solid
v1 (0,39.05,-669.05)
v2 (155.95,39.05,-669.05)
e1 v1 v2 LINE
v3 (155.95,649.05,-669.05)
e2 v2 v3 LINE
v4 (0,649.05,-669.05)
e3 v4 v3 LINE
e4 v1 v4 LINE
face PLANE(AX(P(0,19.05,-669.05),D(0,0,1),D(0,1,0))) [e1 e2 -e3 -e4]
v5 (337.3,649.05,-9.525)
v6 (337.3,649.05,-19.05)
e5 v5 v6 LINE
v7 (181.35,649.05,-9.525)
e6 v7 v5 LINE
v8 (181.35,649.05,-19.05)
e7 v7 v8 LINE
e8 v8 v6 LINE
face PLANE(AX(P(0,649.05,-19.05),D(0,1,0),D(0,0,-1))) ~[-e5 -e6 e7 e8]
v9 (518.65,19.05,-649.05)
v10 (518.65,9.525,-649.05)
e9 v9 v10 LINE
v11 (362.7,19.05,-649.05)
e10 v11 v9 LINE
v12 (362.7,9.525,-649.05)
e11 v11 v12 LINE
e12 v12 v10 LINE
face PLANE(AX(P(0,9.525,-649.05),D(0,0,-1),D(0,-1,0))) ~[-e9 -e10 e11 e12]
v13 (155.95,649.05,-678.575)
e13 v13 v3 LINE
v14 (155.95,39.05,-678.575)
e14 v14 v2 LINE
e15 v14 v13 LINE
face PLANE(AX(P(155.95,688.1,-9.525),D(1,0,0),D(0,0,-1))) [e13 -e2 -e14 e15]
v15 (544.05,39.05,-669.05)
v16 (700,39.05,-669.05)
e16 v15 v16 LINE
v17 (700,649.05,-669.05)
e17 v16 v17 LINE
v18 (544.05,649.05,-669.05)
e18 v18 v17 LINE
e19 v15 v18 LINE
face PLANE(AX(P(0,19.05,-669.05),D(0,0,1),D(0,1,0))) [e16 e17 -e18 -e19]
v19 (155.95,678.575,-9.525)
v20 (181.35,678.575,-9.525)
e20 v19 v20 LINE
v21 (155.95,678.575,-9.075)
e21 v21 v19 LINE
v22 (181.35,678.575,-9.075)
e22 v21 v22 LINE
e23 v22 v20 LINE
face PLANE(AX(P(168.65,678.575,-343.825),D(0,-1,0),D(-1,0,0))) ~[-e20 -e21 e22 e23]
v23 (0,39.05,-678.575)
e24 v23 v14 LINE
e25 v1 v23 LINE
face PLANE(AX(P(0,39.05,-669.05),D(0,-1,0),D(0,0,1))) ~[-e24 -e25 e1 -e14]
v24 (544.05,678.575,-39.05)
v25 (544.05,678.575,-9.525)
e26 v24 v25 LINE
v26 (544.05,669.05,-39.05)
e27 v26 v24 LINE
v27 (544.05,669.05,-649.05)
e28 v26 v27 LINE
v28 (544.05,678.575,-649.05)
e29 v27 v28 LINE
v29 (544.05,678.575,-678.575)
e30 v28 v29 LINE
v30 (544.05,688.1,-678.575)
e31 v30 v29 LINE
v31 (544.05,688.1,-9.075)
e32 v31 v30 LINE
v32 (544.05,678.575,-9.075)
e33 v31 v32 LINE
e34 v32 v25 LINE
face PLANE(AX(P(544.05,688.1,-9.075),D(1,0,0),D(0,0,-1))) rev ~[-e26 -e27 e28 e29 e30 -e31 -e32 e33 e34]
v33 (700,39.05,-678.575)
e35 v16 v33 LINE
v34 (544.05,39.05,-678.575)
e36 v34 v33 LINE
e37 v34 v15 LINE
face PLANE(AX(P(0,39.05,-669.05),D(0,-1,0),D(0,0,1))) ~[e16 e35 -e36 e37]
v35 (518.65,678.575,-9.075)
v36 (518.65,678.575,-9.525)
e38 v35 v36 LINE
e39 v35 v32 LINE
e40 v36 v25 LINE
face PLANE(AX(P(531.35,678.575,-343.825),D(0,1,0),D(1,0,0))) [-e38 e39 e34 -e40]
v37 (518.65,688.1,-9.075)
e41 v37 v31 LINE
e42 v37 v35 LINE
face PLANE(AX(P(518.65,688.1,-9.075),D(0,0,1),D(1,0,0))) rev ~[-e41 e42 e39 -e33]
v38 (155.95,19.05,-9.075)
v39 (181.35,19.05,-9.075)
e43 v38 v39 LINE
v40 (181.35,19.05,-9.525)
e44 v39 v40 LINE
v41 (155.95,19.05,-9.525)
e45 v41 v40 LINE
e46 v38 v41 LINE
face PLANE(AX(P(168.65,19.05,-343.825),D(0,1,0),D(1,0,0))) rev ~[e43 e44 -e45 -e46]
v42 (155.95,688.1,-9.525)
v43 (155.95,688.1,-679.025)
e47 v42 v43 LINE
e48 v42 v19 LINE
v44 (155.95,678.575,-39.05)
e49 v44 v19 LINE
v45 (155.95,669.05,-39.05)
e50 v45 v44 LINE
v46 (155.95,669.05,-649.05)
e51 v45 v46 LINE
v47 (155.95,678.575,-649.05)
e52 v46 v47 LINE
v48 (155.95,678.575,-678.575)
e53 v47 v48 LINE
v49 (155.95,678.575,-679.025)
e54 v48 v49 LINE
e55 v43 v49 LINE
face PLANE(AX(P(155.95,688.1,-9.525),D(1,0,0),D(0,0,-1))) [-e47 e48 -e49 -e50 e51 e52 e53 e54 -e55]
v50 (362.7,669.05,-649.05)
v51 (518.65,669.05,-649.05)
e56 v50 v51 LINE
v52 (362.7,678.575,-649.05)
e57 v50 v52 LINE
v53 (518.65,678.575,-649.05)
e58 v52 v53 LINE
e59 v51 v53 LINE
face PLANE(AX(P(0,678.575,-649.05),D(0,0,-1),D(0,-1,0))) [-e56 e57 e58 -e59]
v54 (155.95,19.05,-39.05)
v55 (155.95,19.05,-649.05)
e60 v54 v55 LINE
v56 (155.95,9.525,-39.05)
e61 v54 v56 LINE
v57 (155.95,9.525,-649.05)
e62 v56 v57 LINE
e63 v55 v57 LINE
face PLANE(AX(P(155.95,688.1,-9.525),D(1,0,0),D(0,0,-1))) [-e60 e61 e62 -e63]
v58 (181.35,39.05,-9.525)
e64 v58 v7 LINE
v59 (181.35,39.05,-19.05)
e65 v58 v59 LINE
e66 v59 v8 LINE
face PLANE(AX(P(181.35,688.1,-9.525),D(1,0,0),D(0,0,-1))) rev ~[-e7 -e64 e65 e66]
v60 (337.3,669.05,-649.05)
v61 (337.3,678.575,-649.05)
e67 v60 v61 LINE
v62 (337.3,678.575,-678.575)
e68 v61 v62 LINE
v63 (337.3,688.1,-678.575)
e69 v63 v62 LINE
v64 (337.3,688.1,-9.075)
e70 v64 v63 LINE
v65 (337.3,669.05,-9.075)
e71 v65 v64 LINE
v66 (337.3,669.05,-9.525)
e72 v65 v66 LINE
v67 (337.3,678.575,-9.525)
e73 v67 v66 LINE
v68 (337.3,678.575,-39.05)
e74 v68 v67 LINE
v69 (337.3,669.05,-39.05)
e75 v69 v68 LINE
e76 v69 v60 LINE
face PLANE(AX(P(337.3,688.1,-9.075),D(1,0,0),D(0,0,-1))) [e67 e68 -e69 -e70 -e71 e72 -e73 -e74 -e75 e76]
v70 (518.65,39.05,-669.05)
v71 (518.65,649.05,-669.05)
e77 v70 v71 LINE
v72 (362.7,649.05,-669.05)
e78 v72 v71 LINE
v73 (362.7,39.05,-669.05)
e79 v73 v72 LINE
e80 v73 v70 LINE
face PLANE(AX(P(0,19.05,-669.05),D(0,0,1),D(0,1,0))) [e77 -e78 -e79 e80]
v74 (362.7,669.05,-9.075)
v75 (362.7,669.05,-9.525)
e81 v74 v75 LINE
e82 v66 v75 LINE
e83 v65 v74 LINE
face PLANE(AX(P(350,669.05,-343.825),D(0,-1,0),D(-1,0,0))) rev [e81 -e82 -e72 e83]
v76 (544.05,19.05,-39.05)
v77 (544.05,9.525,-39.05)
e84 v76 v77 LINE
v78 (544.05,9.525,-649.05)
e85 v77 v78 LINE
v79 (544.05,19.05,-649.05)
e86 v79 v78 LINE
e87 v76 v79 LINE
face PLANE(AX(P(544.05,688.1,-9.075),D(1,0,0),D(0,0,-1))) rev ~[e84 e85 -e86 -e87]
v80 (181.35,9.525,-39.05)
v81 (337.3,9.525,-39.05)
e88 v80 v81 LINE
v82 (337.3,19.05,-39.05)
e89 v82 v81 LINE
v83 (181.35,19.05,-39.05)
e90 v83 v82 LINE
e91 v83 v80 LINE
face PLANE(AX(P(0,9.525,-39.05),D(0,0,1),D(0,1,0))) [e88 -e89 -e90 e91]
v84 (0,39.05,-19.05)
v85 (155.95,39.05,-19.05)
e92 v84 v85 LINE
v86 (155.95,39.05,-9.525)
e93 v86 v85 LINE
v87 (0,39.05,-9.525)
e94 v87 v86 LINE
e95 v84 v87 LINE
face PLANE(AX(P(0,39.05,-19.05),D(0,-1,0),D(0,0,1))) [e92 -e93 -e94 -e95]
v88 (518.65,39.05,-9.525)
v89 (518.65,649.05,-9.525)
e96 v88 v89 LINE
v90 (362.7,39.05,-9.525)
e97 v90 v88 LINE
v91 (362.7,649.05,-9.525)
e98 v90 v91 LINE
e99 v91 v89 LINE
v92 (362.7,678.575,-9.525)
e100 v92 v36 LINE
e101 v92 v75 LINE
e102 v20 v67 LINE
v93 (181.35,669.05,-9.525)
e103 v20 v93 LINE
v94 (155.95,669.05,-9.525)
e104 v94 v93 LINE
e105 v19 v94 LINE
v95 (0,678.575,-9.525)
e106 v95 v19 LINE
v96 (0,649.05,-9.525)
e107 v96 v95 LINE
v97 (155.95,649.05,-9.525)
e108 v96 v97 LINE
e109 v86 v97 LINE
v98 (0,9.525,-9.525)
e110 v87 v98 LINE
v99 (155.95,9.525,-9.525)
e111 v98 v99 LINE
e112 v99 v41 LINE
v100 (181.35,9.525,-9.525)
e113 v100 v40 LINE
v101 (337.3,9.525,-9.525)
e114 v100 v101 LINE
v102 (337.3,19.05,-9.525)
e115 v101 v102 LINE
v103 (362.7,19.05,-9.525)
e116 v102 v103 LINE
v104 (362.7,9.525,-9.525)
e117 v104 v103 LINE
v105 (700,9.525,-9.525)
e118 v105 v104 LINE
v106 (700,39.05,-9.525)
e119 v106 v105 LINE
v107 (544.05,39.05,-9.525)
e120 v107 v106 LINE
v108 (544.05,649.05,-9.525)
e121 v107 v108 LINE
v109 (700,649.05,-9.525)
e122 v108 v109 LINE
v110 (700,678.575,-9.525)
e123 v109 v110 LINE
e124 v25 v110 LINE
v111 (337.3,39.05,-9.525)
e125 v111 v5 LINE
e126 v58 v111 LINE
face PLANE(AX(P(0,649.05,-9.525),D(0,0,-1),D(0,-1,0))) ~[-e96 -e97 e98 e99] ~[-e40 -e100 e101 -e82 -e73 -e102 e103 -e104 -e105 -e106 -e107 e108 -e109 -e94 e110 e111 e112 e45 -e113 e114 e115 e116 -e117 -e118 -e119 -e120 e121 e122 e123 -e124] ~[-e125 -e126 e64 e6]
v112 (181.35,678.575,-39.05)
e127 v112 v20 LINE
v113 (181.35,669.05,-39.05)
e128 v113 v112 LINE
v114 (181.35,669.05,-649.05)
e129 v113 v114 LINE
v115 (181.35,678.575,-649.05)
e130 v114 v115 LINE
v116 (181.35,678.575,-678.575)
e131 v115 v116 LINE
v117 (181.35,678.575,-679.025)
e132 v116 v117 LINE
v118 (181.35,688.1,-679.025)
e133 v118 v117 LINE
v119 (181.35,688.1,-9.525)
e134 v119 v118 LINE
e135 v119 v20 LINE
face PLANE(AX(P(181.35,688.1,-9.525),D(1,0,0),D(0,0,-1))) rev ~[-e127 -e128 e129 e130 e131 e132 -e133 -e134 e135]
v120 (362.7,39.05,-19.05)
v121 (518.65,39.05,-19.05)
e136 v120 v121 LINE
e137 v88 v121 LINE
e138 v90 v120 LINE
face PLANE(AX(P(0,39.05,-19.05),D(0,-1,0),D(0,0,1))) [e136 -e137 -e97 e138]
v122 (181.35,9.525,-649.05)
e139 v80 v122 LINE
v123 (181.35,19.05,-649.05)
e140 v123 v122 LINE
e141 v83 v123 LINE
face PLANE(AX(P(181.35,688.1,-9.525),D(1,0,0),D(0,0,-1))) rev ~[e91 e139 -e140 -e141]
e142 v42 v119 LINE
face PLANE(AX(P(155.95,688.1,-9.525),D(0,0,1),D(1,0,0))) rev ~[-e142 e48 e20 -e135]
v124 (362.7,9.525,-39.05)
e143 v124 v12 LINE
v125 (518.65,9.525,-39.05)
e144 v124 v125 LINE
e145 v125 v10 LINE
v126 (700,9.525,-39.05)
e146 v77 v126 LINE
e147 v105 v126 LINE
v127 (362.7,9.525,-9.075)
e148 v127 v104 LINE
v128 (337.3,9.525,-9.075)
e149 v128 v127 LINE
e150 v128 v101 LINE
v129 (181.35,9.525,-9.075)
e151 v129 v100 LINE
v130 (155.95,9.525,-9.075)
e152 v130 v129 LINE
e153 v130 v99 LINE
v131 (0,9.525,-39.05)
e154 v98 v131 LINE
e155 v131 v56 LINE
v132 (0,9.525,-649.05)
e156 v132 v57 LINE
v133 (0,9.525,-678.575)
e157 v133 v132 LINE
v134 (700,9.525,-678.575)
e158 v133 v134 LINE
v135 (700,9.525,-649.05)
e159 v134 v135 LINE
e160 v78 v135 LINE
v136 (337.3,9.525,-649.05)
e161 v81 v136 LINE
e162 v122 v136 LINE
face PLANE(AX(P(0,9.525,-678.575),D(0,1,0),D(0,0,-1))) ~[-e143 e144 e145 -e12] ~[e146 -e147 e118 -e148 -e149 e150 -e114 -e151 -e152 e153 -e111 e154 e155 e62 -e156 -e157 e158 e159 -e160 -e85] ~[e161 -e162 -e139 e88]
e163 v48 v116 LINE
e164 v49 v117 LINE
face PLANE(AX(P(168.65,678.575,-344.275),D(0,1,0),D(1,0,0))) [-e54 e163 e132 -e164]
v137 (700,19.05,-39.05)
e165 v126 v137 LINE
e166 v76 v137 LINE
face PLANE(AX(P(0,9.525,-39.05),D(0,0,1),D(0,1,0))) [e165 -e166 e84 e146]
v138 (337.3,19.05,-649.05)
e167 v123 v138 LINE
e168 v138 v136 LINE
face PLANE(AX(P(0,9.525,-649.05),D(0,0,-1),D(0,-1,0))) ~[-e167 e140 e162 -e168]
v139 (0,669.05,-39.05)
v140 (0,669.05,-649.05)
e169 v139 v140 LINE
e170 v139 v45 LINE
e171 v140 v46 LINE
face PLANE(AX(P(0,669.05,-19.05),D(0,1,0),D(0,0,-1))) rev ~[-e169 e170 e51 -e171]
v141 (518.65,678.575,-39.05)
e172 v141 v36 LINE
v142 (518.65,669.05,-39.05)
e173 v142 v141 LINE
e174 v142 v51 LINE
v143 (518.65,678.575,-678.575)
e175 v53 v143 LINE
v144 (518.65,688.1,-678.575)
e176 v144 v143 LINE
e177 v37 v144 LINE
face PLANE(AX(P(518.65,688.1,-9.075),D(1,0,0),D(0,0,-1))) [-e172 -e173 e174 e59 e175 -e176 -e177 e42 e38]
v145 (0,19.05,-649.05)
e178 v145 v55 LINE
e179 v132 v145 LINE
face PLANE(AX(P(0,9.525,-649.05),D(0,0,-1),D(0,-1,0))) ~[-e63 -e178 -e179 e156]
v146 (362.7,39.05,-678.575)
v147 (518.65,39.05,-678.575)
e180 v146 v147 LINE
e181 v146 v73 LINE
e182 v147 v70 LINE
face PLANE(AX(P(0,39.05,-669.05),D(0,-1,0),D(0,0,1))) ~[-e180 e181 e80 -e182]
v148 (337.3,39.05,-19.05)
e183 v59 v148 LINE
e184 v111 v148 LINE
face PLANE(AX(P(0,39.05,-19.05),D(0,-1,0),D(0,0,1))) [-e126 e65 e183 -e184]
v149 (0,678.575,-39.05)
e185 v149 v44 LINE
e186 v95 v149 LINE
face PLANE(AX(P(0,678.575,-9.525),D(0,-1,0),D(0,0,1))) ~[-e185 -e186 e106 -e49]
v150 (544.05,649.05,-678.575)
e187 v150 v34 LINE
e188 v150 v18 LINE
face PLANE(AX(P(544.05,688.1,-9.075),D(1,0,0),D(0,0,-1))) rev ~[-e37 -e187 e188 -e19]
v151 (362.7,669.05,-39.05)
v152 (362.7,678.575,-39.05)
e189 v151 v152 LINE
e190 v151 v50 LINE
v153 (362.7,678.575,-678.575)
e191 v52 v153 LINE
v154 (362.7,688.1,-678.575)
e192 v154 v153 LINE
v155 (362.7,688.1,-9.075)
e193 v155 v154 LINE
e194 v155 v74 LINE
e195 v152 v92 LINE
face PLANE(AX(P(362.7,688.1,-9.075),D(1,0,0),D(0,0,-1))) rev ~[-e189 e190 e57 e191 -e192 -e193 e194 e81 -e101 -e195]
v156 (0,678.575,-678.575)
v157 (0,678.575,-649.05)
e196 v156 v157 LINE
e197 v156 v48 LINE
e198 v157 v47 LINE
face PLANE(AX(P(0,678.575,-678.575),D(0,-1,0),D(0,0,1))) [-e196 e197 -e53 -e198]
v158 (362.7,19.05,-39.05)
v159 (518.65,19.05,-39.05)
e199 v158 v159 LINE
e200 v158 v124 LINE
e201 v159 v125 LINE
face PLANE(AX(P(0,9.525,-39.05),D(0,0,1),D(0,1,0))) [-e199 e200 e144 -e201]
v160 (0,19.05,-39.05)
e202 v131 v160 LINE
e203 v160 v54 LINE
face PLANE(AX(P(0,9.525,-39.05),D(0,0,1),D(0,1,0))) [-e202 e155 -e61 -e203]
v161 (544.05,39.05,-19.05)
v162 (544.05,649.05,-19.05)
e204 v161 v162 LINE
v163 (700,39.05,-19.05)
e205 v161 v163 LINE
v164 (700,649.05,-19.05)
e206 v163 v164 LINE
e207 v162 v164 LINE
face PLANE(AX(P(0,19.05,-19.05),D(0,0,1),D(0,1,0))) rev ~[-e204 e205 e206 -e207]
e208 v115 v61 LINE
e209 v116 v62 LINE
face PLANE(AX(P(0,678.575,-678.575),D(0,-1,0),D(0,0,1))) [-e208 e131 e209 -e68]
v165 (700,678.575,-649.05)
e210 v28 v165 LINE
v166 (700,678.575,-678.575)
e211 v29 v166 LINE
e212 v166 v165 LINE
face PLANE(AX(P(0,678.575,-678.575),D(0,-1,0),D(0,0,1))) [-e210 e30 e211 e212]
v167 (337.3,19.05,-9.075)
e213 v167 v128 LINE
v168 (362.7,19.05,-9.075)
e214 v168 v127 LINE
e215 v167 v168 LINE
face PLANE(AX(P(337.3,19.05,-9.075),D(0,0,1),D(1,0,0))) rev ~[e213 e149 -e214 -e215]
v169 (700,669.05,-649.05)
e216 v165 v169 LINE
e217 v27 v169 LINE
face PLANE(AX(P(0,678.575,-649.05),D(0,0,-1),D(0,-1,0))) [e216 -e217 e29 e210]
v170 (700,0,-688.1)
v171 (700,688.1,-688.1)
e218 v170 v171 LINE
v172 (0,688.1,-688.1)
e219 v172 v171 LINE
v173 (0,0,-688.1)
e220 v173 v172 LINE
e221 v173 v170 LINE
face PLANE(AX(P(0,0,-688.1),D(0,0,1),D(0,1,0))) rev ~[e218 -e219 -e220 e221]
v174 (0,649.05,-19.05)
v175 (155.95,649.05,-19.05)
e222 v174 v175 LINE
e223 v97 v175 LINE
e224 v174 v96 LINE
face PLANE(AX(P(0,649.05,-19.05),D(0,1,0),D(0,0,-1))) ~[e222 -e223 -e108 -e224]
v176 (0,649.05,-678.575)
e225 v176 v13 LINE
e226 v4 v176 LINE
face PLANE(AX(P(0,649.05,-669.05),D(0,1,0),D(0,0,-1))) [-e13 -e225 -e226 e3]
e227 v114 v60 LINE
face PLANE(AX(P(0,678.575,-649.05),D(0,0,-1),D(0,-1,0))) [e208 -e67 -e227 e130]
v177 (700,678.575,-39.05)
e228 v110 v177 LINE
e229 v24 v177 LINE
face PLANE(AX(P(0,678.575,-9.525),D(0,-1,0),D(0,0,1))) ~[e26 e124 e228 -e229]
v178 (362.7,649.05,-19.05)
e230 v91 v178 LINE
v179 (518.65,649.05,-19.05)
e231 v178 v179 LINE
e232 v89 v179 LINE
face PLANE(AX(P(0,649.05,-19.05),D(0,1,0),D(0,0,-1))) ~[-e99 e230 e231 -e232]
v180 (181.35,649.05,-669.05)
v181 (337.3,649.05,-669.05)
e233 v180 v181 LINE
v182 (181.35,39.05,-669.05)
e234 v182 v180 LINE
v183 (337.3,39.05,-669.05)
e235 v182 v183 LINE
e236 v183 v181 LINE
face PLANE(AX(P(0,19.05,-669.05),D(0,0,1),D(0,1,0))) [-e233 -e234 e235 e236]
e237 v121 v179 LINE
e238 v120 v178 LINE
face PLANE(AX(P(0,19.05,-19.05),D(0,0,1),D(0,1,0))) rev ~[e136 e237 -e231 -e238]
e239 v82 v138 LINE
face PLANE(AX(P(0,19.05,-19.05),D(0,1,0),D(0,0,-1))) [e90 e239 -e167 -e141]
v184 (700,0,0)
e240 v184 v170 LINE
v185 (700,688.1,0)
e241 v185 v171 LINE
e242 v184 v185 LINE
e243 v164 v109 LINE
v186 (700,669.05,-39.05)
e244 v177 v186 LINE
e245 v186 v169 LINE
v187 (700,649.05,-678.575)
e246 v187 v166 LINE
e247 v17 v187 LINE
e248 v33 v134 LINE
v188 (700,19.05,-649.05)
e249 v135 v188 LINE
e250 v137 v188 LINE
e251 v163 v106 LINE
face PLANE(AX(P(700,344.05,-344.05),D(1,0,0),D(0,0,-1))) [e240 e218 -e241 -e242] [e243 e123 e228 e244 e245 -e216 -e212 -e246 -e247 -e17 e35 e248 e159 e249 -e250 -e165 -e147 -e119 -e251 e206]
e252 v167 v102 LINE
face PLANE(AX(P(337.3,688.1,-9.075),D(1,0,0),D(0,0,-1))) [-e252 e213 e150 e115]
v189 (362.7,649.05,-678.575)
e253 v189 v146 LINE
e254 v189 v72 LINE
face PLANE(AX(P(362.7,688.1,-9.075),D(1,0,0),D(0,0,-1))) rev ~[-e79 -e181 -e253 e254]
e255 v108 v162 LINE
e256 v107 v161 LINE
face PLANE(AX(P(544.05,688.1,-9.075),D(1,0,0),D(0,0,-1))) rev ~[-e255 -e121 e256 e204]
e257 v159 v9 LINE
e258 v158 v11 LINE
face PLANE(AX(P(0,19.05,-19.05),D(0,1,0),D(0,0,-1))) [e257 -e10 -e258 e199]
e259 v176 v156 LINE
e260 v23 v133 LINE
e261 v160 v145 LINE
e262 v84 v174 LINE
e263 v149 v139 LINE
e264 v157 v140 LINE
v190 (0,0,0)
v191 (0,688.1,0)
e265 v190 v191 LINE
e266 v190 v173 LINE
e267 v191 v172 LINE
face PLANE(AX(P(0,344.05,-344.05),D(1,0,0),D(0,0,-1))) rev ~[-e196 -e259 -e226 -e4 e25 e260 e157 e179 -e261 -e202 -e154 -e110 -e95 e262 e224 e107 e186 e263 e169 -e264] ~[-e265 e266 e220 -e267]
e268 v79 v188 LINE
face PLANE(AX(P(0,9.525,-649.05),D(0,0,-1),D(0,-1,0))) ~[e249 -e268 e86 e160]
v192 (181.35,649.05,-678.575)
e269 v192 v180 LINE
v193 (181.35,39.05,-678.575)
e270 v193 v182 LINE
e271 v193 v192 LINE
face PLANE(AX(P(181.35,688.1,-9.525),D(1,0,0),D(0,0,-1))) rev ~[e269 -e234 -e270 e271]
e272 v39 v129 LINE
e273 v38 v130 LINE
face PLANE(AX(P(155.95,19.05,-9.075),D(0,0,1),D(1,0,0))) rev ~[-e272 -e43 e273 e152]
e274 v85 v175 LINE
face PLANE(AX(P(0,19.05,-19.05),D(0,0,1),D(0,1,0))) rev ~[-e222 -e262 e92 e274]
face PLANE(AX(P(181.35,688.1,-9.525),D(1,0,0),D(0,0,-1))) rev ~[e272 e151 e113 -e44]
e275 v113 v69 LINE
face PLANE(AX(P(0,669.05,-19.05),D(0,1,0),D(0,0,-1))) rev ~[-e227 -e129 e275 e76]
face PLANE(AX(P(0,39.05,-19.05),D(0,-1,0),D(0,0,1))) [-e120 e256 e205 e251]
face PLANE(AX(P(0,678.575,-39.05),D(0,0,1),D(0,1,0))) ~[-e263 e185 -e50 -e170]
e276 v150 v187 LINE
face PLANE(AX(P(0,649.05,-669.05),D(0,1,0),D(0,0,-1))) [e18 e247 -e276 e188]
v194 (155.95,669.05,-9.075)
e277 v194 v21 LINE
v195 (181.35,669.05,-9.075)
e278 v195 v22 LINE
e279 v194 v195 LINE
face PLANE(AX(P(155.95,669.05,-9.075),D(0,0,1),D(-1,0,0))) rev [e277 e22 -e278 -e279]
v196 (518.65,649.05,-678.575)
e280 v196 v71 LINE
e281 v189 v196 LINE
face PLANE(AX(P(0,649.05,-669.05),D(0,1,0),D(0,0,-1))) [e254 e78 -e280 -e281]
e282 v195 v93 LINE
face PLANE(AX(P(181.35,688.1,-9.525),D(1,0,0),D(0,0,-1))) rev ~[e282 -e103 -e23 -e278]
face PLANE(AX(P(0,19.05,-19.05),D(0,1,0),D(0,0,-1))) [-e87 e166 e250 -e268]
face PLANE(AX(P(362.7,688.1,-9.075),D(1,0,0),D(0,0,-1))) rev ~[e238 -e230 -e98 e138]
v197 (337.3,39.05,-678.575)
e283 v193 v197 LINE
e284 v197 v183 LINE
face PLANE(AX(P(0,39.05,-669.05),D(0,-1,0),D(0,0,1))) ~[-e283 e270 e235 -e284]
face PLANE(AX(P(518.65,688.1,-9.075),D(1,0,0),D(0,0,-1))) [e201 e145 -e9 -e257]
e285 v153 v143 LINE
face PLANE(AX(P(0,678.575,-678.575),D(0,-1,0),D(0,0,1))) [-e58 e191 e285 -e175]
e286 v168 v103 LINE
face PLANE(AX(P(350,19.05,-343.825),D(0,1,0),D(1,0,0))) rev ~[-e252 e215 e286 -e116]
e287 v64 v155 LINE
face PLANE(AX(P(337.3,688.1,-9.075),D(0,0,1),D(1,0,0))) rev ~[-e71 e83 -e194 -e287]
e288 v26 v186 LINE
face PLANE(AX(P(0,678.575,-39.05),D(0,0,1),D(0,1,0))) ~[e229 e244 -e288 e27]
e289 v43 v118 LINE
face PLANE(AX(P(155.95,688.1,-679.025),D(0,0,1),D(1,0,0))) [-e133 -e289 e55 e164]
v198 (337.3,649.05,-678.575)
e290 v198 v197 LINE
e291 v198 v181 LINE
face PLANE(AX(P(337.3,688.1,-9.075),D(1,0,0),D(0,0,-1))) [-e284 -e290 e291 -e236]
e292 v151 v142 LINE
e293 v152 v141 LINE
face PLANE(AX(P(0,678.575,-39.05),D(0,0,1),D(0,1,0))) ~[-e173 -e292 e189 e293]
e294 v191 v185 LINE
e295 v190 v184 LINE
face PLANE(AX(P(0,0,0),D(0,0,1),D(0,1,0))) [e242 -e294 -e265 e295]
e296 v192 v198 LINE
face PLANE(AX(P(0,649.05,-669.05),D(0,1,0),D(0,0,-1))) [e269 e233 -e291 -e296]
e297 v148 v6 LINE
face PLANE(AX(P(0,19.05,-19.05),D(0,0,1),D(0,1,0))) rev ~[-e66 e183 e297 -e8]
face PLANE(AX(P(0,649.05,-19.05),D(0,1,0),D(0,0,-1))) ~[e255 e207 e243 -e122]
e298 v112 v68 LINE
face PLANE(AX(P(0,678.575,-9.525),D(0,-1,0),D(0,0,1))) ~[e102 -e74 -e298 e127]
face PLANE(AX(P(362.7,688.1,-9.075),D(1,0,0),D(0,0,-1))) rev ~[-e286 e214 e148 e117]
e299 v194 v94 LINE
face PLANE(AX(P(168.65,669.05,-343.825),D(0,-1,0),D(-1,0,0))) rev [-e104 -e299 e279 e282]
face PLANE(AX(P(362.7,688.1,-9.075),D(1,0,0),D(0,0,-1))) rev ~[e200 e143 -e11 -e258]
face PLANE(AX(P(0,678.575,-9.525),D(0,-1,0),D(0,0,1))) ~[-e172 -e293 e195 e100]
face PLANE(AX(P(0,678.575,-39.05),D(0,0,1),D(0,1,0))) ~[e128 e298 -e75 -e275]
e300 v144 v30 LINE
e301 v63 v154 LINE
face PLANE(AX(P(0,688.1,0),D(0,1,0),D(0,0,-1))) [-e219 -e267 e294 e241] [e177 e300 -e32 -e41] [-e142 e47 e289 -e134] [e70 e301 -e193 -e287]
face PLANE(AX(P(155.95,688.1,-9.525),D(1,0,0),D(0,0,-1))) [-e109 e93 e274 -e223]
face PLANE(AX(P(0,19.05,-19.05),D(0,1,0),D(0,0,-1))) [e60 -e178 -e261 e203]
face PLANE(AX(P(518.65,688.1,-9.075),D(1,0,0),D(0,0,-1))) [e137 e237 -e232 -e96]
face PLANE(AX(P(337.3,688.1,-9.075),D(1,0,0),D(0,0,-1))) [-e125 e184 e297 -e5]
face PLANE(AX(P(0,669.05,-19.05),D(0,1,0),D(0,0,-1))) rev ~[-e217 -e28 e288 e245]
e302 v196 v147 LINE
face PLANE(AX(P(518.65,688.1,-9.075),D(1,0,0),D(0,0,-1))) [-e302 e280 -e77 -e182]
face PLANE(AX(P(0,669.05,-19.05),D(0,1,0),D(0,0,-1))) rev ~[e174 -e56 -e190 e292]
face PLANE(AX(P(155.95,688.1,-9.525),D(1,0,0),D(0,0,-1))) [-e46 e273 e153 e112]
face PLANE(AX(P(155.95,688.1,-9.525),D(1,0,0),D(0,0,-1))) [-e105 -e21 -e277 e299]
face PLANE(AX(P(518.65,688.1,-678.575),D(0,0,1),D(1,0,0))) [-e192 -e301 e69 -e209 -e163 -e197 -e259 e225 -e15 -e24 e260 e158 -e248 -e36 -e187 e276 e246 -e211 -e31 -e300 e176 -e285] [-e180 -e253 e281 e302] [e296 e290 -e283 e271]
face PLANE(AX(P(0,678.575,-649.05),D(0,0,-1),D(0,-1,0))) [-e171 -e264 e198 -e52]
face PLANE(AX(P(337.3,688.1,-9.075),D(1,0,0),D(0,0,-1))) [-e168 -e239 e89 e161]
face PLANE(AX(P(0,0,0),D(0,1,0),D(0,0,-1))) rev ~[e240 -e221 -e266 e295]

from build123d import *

# Parameters (mm, degrees)
SKETCH1_W            = 688.1
SKETCH1_H            = 688.1
SKETCH1_W_2          = 650
SKETCH1_H_2          = 650
BOSS_EXTRUDE1_DEPTH  = 700
SKETCH3_W            = 25.4
SKETCH3_H            = 650
CUT_EXTRUDE1_DEPTH   = 9.525
SKETCH4_W            = 25.4
SKETCH4_H            = 669.5
SKETCH4_H_2          = 669.05
CUT_EXTRUDE3_DEPTH   = 9.525
SKETCH6_W            = 25.4
SKETCH6_H            = 669.5
CUT_EXTRUDE4_DEPTH   = 9.525
CUT_EXTRUDE5_DEPTH   = 700
MIRROR6_COPY_1_DEPTH = 700


with BuildPart() as part:
    # Sketch1 → Boss-Extrude1 (new body)
    with BuildSketch(Plane(origin=(0, 0, 0), x_dir=(0, 0, -1), z_dir=(1, 0, 0))):
        with Locations((344.05, 344.05)):
            Rectangle(SKETCH1_W, SKETCH1_H)
        with Locations((344.05, 344.05)):
            Rectangle(SKETCH1_W_2, SKETCH1_H_2, mode=Mode.SUBTRACT)
    extrude(amount=BOSS_EXTRUDE1_DEPTH)

    # Sketch3 → Cut-Extrude1 (cut)
    with BuildSketch(Plane.XY.offset(-669.05)):
        with Locations((168.65, 344.05)):
            Rectangle(SKETCH3_W, SKETCH3_H)
        with Locations((350, 344.05)):
            Rectangle(SKETCH3_W, SKETCH3_H)
        with Locations((531.35, 344.05)):
            Rectangle(SKETCH3_W, SKETCH3_H)
    cut_extrude1 = extrude(amount=-CUT_EXTRUDE1_DEPTH, mode=Mode.SUBTRACT)

    # Mirror2: Cut-Extrude1 across plane
    add(cut_extrude1.mirror(Plane(origin=(0, 0, -344.05), x_dir=(1, 0, 0), z_dir=(0, 0, -1))), mode=Mode.SUBTRACT)

    # Sketch4 → Cut-Extrude3 (cut)
    with BuildSketch(Plane(origin=(0, 19.05, 0), x_dir=(1, 0, 0), z_dir=(0, 1, 0))):
        with Locations((168.65, 343.825)):
            Rectangle(SKETCH4_W, SKETCH4_H)
        with Locations((350, 343.825)):
            Rectangle(SKETCH4_W, SKETCH4_H)
        with Locations((531.35, 344.05)):
            Rectangle(SKETCH4_W, SKETCH4_H_2)
    cut_extrude3 = extrude(amount=-CUT_EXTRUDE3_DEPTH, mode=Mode.SUBTRACT)

    # Mirror4: Cut-Extrude3 across plane
    add(cut_extrude3.mirror(Plane.ZX.offset(344.05)), mode=Mode.SUBTRACT)

    # Sketch6 → Cut-Extrude4 (cut)
    with BuildSketch(Plane(origin=(0, 688.1, 0), x_dir=(1, 0, 0), z_dir=(0, 1, 0))):
        with Locations((168.65, 344.275)):
            Rectangle(SKETCH6_W, SKETCH6_H)
        with Locations((350, 343.825)):
            Rectangle(SKETCH6_W, SKETCH6_H)
        with Locations((531.35, 343.825)):
            Rectangle(SKETCH6_W, SKETCH6_H)
    extrude(amount=-CUT_EXTRUDE4_DEPTH, mode=Mode.SUBTRACT)

    # Sketch7 → Cut-Extrude5 (cut)
    with BuildSketch(Plane.ZY):
        Polygon((-19.05, 39.05), (-9.525, 39.05), (-9.525, 9.525), (-39.05, 9.525), (-39.05, 19.05), (-19.05, 19.05), align=None)
    cut_extrude5 = extrude(amount=-CUT_EXTRUDE5_DEPTH, mode=Mode.SUBTRACT)

    # Mirror5: Cut-Extrude5 across plane
    add(cut_extrude5.mirror(Plane(origin=(0, 0, -344.05), x_dir=(1, 0, 0), z_dir=(0, 0, -1))), mode=Mode.SUBTRACT)

    # Mirror6: Cut-Extrude5 across plane
    add(cut_extrude5.mirror(Plane.ZX.offset(344.05)), mode=Mode.SUBTRACT)

    # Mirror6 copy 1 sketch → Mirror6 copy 1 (cut)
    with BuildSketch(Plane(origin=(0, 688.1, -688.1), x_dir=(0, 0, -1), z_dir=(-1, 0, 0))):
        Polygon((-19.05, 39.05), (-9.525, 39.05), (-9.525, 9.525), (-39.05, 9.525), (-39.05, 19.05), (-19.05, 19.05), align=None)
    extrude(amount=-MIRROR6_COPY_1_DEPTH, mode=Mode.SUBTRACT)


solid = part.part
